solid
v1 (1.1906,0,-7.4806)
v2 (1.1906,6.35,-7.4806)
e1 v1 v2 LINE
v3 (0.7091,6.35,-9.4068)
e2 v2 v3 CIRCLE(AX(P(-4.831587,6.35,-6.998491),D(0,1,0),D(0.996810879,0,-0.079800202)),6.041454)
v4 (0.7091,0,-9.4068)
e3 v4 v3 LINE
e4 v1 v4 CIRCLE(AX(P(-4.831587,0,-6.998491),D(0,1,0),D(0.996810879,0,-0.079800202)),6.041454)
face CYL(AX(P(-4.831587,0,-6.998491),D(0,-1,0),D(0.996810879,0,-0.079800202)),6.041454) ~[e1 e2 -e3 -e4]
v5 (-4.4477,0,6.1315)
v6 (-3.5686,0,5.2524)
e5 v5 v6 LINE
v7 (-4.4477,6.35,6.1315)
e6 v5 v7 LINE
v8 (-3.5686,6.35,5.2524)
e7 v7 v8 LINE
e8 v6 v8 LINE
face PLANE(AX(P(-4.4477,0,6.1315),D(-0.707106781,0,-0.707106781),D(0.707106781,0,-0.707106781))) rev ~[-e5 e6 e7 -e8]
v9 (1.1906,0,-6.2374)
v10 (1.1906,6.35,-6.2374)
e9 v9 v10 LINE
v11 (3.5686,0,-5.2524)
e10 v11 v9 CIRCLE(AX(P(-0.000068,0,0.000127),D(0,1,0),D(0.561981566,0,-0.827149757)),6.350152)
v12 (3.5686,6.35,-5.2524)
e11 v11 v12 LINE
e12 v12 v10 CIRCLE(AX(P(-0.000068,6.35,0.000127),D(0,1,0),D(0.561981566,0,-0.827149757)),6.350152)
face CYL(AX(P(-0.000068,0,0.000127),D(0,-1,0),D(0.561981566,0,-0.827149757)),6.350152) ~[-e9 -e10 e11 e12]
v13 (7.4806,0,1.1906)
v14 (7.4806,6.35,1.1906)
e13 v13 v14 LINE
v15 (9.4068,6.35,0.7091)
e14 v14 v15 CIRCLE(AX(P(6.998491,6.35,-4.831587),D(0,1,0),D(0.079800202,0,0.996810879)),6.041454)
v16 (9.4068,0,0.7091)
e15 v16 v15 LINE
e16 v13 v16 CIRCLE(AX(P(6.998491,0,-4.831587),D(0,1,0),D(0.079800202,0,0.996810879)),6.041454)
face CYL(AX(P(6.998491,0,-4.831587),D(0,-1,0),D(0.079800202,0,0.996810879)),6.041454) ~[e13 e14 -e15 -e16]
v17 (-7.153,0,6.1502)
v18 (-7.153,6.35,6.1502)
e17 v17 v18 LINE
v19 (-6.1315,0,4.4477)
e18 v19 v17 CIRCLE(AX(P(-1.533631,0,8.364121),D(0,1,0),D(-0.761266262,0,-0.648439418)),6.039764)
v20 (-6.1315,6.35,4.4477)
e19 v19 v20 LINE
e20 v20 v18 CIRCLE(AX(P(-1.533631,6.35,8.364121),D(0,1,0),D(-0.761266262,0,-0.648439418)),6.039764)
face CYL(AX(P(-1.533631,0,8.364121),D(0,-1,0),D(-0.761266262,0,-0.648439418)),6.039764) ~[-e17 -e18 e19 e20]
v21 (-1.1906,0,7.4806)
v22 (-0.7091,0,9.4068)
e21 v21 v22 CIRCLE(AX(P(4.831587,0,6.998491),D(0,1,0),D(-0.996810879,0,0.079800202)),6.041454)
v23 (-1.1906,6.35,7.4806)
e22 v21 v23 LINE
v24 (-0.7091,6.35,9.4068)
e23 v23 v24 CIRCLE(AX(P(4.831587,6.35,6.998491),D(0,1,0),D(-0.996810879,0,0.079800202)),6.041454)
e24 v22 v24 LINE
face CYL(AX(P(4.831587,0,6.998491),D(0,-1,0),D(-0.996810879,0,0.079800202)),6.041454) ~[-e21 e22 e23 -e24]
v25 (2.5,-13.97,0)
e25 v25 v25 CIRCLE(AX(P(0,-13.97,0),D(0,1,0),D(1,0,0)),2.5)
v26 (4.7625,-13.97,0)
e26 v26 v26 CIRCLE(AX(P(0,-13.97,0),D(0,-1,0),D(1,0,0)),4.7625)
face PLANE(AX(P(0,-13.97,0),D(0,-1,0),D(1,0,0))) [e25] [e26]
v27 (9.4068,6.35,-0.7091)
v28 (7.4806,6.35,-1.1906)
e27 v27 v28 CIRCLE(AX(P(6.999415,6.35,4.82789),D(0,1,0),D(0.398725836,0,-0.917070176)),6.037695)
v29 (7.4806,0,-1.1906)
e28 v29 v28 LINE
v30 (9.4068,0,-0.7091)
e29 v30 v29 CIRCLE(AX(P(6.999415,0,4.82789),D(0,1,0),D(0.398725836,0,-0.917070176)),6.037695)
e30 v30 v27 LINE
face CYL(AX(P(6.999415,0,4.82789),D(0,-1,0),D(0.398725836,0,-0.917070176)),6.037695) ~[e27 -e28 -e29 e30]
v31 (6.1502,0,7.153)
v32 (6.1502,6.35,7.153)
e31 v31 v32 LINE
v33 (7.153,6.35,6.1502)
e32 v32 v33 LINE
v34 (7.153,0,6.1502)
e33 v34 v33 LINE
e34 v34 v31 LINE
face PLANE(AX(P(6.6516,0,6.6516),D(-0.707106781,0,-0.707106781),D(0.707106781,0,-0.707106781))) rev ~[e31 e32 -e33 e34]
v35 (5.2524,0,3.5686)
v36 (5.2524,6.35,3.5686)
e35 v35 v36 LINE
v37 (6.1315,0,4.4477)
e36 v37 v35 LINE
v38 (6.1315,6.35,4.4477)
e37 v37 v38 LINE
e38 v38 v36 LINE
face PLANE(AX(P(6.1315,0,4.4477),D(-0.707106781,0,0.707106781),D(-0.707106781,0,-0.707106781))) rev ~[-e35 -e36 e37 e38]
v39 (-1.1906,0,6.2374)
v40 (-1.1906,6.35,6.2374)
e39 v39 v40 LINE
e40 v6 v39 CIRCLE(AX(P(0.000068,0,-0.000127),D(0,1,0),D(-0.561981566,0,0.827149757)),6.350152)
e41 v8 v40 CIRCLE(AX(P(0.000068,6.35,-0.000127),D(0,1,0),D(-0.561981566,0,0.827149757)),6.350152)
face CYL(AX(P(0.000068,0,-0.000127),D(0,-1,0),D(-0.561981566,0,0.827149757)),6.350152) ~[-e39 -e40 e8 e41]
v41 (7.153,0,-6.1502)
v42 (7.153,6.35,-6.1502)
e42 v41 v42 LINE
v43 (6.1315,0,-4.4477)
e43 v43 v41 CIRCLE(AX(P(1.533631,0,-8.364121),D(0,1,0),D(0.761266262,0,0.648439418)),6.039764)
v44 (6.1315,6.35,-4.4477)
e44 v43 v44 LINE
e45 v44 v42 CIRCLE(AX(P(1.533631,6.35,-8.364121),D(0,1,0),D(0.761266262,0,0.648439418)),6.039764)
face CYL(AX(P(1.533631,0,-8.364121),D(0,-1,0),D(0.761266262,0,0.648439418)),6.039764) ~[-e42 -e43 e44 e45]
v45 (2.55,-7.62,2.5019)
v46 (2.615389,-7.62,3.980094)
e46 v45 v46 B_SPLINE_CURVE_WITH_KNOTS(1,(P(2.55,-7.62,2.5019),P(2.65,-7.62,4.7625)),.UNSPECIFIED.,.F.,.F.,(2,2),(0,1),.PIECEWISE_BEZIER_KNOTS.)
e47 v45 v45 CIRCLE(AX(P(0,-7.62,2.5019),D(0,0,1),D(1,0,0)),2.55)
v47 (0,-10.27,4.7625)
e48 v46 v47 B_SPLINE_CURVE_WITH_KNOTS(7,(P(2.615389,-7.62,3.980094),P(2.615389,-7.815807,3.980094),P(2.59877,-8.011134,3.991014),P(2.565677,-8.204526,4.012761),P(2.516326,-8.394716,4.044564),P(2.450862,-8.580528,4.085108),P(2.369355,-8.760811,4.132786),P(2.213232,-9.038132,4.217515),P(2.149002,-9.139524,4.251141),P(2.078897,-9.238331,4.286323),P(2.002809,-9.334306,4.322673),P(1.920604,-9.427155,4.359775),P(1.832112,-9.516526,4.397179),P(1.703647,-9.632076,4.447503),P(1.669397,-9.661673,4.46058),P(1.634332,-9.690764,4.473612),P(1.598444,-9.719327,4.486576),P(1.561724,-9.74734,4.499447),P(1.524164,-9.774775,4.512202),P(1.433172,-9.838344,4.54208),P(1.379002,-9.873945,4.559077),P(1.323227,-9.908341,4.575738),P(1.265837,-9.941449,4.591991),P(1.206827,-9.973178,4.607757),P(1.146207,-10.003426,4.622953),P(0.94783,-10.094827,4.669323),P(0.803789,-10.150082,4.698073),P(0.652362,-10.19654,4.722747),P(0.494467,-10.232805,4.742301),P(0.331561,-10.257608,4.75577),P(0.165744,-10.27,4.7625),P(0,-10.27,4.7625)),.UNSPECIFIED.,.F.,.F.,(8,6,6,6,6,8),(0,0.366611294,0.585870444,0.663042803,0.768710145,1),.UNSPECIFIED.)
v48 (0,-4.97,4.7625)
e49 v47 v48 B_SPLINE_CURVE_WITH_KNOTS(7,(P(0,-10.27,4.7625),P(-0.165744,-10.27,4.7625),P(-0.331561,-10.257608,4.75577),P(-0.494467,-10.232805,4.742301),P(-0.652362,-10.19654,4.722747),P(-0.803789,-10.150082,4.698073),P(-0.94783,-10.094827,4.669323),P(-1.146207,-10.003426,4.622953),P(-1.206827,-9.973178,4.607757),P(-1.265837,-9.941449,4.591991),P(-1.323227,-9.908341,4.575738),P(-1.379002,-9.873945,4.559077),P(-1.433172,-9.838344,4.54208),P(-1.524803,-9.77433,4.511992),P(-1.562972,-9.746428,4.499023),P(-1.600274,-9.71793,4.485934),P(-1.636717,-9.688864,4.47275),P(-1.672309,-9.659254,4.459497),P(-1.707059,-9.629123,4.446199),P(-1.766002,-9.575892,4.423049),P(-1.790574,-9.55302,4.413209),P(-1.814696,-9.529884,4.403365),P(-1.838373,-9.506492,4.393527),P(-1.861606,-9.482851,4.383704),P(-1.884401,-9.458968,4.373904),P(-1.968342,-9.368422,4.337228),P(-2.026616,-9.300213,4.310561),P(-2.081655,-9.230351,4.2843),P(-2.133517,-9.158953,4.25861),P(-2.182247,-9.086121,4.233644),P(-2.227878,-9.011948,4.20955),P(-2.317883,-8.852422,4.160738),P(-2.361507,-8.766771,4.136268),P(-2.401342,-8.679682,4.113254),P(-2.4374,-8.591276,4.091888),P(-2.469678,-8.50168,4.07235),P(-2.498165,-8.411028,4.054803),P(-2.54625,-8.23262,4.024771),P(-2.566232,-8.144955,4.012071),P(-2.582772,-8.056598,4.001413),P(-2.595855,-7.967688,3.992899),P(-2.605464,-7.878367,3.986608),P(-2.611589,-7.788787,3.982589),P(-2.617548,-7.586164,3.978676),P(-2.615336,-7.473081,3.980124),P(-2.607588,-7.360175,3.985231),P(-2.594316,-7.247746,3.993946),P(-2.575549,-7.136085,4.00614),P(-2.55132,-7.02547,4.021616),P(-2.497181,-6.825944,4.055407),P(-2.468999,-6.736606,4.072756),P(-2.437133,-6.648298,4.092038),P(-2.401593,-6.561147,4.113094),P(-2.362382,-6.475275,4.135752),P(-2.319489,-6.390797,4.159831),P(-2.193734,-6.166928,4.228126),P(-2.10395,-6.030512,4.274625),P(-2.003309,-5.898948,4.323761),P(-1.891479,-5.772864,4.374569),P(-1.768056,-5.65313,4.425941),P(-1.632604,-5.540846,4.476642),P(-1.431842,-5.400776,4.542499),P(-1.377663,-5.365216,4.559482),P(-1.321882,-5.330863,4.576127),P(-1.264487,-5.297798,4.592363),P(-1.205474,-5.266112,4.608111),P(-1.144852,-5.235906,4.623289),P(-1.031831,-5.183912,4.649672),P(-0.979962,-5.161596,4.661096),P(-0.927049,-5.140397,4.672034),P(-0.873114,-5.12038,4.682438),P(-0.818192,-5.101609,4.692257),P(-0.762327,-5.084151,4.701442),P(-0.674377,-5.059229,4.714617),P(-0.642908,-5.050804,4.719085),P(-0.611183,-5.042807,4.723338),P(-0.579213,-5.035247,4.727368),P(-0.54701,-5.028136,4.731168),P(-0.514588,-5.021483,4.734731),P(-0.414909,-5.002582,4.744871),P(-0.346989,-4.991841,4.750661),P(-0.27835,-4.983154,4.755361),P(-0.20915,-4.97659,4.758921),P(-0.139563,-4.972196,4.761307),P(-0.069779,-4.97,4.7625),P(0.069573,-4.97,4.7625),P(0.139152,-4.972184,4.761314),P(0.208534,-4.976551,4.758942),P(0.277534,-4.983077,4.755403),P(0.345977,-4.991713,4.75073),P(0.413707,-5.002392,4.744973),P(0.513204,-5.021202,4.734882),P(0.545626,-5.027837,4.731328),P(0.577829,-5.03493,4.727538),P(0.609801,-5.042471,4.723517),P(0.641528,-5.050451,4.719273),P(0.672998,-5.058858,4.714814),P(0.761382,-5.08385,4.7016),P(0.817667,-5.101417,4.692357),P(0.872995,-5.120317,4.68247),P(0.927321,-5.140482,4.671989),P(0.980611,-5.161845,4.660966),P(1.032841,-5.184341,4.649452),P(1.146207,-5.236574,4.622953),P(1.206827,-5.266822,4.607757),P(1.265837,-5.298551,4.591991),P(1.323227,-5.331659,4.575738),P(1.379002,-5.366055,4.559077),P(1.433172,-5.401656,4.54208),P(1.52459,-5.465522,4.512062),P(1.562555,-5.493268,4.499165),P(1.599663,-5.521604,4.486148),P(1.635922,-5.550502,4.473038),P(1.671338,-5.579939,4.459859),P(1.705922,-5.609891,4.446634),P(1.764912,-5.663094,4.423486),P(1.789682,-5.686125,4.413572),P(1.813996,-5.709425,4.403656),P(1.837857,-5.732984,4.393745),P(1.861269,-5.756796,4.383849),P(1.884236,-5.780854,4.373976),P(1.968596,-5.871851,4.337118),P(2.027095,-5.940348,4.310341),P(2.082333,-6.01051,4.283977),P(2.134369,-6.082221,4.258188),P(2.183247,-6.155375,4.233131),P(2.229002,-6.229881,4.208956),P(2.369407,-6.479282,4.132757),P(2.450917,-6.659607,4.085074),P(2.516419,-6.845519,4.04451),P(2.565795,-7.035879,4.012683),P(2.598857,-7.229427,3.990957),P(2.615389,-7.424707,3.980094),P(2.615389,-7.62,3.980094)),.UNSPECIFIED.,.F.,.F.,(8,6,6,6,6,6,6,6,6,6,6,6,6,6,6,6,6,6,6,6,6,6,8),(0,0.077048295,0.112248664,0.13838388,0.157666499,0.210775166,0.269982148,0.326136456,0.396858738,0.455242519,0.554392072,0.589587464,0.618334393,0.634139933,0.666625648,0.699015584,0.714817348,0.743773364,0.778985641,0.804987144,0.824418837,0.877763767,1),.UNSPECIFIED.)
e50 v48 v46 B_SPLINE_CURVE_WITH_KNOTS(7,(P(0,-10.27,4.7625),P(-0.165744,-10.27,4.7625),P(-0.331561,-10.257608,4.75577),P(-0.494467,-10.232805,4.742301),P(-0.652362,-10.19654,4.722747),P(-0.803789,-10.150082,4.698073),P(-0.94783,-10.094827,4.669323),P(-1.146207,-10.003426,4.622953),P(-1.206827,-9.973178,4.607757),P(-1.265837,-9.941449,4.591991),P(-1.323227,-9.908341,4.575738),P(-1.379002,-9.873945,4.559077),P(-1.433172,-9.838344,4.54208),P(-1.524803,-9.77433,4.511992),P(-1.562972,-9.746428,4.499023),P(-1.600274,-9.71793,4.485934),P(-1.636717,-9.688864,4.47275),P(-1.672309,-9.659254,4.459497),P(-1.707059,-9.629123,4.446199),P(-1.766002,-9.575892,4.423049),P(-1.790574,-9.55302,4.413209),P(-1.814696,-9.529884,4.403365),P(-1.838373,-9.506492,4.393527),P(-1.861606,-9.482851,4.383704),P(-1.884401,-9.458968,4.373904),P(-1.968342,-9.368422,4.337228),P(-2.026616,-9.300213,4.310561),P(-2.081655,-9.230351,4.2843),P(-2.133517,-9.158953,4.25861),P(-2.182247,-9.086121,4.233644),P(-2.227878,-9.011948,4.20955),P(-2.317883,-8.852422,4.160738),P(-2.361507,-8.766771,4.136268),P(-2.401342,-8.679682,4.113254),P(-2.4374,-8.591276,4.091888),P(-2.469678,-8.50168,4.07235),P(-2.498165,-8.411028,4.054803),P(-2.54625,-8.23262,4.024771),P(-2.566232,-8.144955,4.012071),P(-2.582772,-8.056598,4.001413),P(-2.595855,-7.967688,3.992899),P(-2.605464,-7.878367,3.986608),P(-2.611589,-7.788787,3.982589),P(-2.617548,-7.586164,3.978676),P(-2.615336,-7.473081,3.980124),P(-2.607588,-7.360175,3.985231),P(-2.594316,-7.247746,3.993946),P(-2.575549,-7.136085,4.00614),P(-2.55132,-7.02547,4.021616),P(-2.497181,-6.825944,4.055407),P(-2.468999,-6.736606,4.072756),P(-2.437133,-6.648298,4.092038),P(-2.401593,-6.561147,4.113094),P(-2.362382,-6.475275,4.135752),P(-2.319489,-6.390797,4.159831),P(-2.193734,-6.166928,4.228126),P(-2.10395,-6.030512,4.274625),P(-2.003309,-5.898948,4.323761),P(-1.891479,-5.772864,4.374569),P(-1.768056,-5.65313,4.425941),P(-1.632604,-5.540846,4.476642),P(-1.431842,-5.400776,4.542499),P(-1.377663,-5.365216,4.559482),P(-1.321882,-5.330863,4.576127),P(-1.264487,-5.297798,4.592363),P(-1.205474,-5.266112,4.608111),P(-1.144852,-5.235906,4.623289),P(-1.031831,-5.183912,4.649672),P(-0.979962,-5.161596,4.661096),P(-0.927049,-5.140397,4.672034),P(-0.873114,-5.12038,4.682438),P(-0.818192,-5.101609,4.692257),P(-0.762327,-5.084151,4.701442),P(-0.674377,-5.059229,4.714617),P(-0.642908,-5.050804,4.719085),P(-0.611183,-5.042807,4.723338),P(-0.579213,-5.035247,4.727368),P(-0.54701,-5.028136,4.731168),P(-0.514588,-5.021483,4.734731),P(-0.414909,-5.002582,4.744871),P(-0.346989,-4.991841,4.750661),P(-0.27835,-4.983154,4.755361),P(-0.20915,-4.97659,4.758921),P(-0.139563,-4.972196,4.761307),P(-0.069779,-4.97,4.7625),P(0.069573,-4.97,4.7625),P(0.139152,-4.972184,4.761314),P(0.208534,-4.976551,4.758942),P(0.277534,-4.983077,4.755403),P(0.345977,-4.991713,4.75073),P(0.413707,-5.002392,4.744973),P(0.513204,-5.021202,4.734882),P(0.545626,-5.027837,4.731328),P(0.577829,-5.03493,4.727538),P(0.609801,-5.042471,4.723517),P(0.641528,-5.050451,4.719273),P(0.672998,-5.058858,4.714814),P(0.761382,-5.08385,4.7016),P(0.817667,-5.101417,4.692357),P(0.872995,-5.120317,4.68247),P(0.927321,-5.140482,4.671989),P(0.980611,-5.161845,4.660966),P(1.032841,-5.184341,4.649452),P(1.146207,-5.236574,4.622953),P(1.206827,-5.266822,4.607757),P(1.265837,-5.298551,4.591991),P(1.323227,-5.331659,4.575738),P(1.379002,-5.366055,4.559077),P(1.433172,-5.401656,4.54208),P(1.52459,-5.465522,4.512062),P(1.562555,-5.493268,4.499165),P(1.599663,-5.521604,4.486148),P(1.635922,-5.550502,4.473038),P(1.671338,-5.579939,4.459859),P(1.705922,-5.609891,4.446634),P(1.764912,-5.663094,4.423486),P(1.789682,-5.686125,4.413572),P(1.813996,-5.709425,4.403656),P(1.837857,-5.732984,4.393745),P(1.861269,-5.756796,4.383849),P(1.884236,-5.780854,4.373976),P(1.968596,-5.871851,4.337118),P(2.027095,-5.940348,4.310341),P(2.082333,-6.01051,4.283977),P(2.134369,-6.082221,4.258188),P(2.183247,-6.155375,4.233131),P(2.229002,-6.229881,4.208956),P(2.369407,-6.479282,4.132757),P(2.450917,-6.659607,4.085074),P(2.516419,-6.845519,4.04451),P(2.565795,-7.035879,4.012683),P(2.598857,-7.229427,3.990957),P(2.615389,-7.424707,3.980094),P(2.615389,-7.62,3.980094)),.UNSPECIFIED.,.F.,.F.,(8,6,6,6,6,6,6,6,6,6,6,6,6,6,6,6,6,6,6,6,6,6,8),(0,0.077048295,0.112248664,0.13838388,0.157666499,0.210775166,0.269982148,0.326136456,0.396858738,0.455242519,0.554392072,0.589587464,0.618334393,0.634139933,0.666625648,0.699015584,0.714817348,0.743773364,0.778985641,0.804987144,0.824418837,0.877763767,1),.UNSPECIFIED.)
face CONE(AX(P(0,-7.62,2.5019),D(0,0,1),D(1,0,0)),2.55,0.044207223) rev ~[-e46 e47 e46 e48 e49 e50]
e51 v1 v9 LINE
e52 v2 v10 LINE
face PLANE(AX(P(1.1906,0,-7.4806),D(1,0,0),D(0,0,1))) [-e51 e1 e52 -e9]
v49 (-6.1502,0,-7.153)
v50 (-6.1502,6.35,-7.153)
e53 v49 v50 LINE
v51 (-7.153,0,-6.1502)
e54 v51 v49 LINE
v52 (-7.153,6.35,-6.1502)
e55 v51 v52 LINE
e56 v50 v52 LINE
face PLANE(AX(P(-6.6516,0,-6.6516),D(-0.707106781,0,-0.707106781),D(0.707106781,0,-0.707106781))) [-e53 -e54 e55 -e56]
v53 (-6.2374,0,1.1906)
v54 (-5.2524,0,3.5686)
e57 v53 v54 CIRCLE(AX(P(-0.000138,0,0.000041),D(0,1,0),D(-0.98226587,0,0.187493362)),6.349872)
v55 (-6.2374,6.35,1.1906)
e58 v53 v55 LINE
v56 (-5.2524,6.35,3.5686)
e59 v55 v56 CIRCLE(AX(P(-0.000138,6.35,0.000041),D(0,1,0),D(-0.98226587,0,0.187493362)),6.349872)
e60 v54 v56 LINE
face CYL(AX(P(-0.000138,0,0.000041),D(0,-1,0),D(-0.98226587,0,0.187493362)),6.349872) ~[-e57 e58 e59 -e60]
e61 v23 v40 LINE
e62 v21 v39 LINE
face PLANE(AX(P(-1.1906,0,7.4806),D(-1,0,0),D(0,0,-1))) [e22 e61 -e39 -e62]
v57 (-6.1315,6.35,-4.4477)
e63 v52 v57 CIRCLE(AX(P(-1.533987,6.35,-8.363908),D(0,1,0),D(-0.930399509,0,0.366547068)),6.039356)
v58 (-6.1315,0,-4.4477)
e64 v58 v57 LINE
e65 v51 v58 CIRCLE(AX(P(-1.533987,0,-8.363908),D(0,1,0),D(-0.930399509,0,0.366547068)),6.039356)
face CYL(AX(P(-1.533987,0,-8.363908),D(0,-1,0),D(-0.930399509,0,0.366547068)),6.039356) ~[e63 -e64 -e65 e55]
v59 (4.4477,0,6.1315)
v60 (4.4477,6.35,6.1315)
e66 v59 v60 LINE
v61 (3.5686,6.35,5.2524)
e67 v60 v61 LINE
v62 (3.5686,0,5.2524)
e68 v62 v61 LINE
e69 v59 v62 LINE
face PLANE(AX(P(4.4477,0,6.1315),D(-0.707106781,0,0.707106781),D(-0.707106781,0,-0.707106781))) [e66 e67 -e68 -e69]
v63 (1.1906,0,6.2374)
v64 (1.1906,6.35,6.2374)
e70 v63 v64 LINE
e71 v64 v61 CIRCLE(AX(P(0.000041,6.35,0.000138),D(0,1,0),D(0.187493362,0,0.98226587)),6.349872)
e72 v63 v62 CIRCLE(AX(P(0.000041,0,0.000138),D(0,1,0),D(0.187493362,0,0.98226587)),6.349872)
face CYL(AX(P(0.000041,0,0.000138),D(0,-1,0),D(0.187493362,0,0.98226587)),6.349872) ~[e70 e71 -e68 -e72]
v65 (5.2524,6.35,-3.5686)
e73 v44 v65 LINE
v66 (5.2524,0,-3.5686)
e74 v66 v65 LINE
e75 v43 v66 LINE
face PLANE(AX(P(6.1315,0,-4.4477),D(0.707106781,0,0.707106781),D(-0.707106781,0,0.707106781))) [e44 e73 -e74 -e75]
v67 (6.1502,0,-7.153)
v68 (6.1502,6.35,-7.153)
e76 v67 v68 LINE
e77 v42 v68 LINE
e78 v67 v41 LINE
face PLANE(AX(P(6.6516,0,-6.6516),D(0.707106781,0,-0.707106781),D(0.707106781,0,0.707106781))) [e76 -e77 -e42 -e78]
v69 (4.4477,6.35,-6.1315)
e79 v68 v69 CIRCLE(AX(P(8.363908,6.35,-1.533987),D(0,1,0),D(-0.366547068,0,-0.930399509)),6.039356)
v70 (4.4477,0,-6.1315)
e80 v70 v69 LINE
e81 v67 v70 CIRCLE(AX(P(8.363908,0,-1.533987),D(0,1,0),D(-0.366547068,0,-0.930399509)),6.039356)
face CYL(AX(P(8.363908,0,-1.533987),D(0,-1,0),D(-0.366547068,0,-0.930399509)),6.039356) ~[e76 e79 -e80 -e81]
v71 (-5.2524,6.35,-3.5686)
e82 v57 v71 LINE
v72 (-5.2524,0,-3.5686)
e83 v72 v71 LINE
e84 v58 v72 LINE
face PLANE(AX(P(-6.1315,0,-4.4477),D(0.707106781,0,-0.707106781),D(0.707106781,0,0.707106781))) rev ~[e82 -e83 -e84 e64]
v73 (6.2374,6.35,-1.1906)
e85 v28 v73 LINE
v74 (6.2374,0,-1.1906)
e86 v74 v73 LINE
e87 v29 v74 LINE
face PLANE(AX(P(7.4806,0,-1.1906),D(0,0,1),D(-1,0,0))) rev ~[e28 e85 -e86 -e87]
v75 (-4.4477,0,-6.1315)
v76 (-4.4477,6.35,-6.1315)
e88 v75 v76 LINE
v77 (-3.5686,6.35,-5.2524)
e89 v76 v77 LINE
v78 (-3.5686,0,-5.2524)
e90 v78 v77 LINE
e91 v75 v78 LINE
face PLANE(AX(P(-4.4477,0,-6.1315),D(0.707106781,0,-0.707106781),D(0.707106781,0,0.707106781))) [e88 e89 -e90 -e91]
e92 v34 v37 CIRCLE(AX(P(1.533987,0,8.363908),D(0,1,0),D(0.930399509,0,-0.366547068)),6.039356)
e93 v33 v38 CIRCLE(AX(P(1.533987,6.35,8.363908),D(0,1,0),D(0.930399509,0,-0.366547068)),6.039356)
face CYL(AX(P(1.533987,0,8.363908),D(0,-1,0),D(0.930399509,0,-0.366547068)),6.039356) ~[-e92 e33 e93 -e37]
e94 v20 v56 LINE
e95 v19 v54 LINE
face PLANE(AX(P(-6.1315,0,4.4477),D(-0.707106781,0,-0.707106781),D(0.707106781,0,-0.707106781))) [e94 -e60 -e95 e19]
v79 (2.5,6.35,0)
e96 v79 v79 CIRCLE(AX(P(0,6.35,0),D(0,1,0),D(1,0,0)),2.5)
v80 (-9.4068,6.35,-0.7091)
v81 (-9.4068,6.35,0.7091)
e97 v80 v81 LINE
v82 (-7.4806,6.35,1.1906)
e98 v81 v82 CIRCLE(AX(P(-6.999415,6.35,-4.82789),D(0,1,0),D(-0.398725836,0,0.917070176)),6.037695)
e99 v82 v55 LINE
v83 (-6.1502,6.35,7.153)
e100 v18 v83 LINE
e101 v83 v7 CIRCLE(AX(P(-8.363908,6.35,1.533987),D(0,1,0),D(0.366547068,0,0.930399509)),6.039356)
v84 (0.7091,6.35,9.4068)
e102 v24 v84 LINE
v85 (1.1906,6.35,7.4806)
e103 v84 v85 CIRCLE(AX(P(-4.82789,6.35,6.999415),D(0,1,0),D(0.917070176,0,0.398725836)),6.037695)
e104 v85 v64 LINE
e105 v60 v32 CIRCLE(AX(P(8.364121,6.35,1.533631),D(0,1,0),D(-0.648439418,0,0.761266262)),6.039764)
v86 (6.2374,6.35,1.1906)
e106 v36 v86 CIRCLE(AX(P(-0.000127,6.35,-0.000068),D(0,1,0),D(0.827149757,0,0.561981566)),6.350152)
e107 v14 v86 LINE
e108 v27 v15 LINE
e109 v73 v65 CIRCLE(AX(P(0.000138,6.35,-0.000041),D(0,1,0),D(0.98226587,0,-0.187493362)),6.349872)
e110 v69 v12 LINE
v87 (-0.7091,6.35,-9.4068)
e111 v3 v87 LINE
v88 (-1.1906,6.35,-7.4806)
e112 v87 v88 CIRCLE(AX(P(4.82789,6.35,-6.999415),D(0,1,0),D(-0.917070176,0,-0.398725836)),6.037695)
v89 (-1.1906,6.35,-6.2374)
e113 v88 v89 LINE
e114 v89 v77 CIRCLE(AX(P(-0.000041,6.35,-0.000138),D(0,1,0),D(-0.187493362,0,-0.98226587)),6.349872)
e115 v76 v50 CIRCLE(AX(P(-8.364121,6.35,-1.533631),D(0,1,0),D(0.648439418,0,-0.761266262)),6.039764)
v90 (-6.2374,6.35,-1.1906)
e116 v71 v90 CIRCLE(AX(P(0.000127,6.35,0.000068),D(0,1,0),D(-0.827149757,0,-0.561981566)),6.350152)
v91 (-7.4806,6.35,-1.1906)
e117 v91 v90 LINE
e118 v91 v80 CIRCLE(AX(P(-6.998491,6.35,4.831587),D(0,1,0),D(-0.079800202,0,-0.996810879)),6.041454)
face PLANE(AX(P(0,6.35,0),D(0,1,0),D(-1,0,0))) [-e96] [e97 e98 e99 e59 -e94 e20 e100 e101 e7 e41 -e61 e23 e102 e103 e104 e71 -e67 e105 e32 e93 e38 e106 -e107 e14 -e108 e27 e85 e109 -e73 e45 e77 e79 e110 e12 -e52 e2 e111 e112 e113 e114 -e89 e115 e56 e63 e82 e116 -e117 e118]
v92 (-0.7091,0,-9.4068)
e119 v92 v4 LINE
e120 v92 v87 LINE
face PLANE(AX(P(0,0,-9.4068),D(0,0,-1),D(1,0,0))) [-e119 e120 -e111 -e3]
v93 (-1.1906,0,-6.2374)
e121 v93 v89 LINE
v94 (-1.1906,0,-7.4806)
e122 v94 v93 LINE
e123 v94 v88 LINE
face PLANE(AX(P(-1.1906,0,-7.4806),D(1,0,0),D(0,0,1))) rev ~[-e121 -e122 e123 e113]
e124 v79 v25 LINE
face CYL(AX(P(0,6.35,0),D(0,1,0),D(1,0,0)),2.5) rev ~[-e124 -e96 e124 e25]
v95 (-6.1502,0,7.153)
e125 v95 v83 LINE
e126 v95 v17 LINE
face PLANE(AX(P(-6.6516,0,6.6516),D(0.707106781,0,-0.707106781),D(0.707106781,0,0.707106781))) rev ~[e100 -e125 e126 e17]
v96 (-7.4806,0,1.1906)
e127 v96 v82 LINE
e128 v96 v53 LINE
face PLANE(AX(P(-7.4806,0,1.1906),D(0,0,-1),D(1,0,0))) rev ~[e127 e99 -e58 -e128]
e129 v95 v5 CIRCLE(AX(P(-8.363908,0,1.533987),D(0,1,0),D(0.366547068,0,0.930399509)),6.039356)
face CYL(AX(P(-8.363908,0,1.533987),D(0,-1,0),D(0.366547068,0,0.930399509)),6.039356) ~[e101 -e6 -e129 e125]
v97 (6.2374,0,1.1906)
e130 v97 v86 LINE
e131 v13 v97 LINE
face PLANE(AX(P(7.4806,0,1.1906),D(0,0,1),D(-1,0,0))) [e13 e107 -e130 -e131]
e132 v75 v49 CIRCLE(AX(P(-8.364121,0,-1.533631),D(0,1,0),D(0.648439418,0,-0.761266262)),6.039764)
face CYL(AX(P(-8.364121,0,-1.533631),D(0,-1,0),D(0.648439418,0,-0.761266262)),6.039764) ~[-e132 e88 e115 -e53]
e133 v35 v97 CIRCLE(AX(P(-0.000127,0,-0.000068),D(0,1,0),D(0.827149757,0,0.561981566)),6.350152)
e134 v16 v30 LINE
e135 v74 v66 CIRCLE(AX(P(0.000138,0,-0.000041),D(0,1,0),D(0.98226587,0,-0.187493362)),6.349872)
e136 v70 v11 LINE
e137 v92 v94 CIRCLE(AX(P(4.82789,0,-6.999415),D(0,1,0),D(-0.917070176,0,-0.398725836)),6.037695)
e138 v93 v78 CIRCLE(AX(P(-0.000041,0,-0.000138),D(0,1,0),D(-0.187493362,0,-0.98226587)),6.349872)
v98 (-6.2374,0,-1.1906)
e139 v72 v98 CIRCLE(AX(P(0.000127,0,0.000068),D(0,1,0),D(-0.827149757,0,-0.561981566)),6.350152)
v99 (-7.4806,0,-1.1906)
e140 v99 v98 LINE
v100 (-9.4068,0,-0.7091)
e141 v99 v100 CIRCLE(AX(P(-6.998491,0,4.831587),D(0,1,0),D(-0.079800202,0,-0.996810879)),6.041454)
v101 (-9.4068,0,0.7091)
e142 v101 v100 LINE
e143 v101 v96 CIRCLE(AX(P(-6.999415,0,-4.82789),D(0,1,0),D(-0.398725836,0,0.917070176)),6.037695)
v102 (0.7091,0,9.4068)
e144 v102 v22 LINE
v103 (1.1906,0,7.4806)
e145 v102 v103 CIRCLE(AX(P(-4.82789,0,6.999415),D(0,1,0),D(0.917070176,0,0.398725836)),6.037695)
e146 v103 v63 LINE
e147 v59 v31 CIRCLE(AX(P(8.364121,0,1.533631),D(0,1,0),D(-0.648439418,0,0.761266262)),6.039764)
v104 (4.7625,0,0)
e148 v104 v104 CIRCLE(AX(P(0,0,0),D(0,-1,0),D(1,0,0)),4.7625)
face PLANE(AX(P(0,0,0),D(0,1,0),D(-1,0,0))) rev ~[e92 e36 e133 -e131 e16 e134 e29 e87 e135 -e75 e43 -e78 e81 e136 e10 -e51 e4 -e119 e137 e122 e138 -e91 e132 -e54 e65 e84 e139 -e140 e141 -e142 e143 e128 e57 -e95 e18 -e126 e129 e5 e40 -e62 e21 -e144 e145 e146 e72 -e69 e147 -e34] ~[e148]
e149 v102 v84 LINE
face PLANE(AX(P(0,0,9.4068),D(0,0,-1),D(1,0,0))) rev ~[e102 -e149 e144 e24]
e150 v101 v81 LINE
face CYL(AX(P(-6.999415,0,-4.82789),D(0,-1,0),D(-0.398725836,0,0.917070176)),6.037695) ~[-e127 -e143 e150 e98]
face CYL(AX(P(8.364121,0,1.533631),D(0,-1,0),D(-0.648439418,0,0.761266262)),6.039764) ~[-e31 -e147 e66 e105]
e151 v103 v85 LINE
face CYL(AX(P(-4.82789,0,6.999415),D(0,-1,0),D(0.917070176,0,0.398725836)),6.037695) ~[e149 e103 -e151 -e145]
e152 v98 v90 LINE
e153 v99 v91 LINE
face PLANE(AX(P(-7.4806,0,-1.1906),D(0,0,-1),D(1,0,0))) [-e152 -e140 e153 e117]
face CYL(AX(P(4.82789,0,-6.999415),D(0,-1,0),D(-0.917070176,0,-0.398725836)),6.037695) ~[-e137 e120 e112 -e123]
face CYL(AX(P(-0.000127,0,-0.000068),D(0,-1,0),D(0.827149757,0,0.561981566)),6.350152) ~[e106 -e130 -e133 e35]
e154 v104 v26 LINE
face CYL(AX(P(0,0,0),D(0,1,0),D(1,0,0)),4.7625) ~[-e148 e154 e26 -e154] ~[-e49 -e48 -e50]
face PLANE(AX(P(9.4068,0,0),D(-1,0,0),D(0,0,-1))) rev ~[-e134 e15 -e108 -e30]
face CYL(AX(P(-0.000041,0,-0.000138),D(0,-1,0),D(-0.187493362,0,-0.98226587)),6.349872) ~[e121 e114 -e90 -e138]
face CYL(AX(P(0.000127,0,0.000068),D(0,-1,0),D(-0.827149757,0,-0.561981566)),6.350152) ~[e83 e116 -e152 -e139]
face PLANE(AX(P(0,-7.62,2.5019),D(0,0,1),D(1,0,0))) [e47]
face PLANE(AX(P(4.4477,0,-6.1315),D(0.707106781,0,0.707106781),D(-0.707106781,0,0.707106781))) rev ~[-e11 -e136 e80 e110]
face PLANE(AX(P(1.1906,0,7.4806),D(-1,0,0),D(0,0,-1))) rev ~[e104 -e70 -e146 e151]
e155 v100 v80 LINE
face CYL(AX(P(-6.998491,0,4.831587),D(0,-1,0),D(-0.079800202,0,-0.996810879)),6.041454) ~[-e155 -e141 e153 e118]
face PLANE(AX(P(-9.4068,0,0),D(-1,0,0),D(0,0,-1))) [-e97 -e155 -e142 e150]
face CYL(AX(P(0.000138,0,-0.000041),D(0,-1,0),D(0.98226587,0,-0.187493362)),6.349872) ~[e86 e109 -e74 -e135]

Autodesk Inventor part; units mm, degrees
ref_plane "YZ Plane" through (0, 0, 0) normal (1, 0, 0) x (0, 1, 0)
sketch "Sketch1" plane through (0, 0, 0) normal (0, 1, 0) x (-1, 0, 0)
  line L0 (-7.4806, -1.1906) -> (-6.2374, -1.1906)
  arc A0 (-9.4068, -0.7091) -> (-7.4806, -1.1906) centre (-6.9988, 4.8297) ccw
  line L1 (-9.4068, 0) -> (-9.4068, -0.7091)
  line L2 (-9.4068, 0) -> (-9.4068, 0.7091)
  line L3 (-7.4806, 1.1906) -> (-6.2374, 1.1906)
  arc A1 (-7.4806, 1.1906) -> (-9.4068, 0.7091) centre (-6.9988, -4.8297) ccw
  line L4 (-7.4806, -1.1906) -> (-6.2374, -1.1906)
  arc A2 (-9.4068, -0.7091) -> (-7.4806, -1.1906) centre (-6.9988, 4.8297) ccw
  line L5 (-9.4068, 0) -> (-9.4068, -0.7091)
  line L6 (-9.4068, 0) -> (-9.4068, 0.7091)
  line L7 (-7.4806, 1.1906) -> (-6.2374, 1.1906)
  arc A3 (-7.4806, 1.1906) -> (-9.4068, 0.7091) centre (-6.9988, -4.8297) ccw
  line L8 (-4.4477, -6.1315) -> (-3.5686, -5.2524)
  line L9 (-4.4477, -6.1315) -> (-3.5686, -5.2524)
  line L10 (-6.6516, -6.6516) -> (-6.1502, -7.153)
  line L11 (-6.6516, -6.6516) -> (-6.1502, -7.153)
  line L12 (-6.6516, -6.6516) -> (-7.153, -6.1502)
  line L13 (-6.6516, -6.6516) -> (-7.153, -6.1502)
  line L14 (-6.1315, -4.4477) -> (-5.2524, -3.5686)
  line L15 (-6.1315, -4.4477) -> (-5.2524, -3.5686)
  arc A4 (-6.1315, -4.4477) -> (-7.153, -6.1502) centre (-1.5338, -8.364) ccw
  arc A5 (-6.1315, -4.4477) -> (-7.153, -6.1502) centre (-1.5338, -8.364) ccw
  arc A6 (-6.1502, -7.153) -> (-4.4477, -6.1315) centre (-8.364, -1.5338) ccw
  arc A7 (-6.1502, -7.153) -> (-4.4477, -6.1315) centre (-8.364, -1.5338) ccw
  line L16 (1.1906, -7.4806) -> (1.1906, -6.2374)
  line L17 (1.1906, -7.4806) -> (1.1906, -6.2374)
  line L18 (0, -9.4068) -> (0.7091, -9.4068)
  line L19 (0, -9.4068) -> (0.7091, -9.4068)
  line L20 (0, -9.4068) -> (-0.7091, -9.4068)
  line L21 (0, -9.4068) -> (-0.7091, -9.4068)
  line L22 (-1.1906, -7.4806) -> (-1.1906, -6.2374)
  line L23 (-1.1906, -7.4806) -> (-1.1906, -6.2374)
  arc A8 (-1.1906, -7.4806) -> (-0.7091, -9.4068) centre (4.8297, -6.9988) ccw
  arc A9 (-1.1906, -7.4806) -> (-0.7091, -9.4068) centre (4.8297, -6.9988) ccw
  arc A10 (0.7091, -9.4068) -> (1.1906, -7.4806) centre (-4.8297, -6.9988) ccw
  arc A11 (0.7091, -9.4068) -> (1.1906, -7.4806) centre (-4.8297, -6.9988) ccw
  line L24 (6.1315, -4.4477) -> (5.2524, -3.5686)
  line L25 (6.1315, -4.4477) -> (5.2524, -3.5686)
  line L26 (6.6516, -6.6516) -> (7.153, -6.1502)
  line L27 (6.6516, -6.6516) -> (7.153, -6.1502)
  line L28 (6.6516, -6.6516) -> (6.1502, -7.153)
  line L29 (6.6516, -6.6516) -> (6.1502, -7.153)
  line L30 (4.4477, -6.1315) -> (3.5686, -5.2524)
  line L31 (4.4477, -6.1315) -> (3.5686, -5.2524)
  arc A12 (4.4477, -6.1315) -> (6.1502, -7.153) centre (8.364, -1.5338) ccw
  arc A13 (4.4477, -6.1315) -> (6.1502, -7.153) centre (8.364, -1.5338) ccw
  arc A14 (7.153, -6.1502) -> (6.1315, -4.4477) centre (1.5338, -8.364) ccw
  arc A15 (7.153, -6.1502) -> (6.1315, -4.4477) centre (1.5338, -8.364) ccw
  line L32 (7.4806, 1.1906) -> (6.2374, 1.1906)
  line L33 (7.4806, 1.1906) -> (6.2374, 1.1906)
  line L34 (9.4068, 0) -> (9.4068, 0.7091)
  line L35 (9.4068, 0) -> (9.4068, 0.7091)
  line L36 (9.4068, 0) -> (9.4068, -0.7091)
  line L37 (9.4068, 0) -> (9.4068, -0.7091)
  line L38 (7.4806, -1.1906) -> (6.2374, -1.1906)
  line L39 (7.4806, -1.1906) -> (6.2374, -1.1906)
  arc A16 (7.4806, -1.1906) -> (9.4068, -0.7091) centre (6.9988, 4.8297) ccw
  arc A17 (7.4806, -1.1906) -> (9.4068, -0.7091) centre (6.9988, 4.8297) ccw
  arc A18 (9.4068, 0.7091) -> (7.4806, 1.1906) centre (6.9988, -4.8297) ccw
  arc A19 (9.4068, 0.7091) -> (7.4806, 1.1906) centre (6.9988, -4.8297) ccw
  line L40 (4.4477, 6.1315) -> (3.5686, 5.2524)
  line L41 (4.4477, 6.1315) -> (3.5686, 5.2524)
  line L42 (6.6516, 6.6516) -> (6.1502, 7.153)
  line L43 (6.6516, 6.6516) -> (6.1502, 7.153)
  line L44 (6.6516, 6.6516) -> (7.153, 6.1502)
  line L45 (6.6516, 6.6516) -> (7.153, 6.1502)
  line L46 (6.1315, 4.4477) -> (5.2524, 3.5686)
  line L47 (6.1315, 4.4477) -> (5.2524, 3.5686)
  arc A20 (6.1315, 4.4477) -> (7.153, 6.1502) centre (1.5338, 8.364) ccw
  arc A21 (6.1315, 4.4477) -> (7.153, 6.1502) centre (1.5338, 8.364) ccw
  arc A22 (6.1502, 7.153) -> (4.4477, 6.1315) centre (8.364, 1.5338) ccw
  arc A23 (6.1502, 7.153) -> (4.4477, 6.1315) centre (8.364, 1.5338) ccw
  line L48 (-1.1906, 7.4806) -> (-1.1906, 6.2374)
  line L49 (-1.1906, 7.4806) -> (-1.1906, 6.2374)
  line L50 (0, 9.4068) -> (-0.7091, 9.4068)
  line L51 (0, 9.4068) -> (-0.7091, 9.4068)
  line L52 (0, 9.4068) -> (0.7091, 9.4068)
  line L53 (0, 9.4068) -> (0.7091, 9.4068)
  line L54 (1.1906, 7.4806) -> (1.1906, 6.2374)
  line L55 (1.1906, 7.4806) -> (1.1906, 6.2374)
  arc A24 (1.1906, 7.4806) -> (0.7091, 9.4068) centre (-4.8297, 6.9988) ccw
  arc A25 (1.1906, 7.4806) -> (0.7091, 9.4068) centre (-4.8297, 6.9988) ccw
  arc A26 (-0.7091, 9.4068) -> (-1.1906, 7.4806) centre (4.8297, 6.9988) ccw
  arc A27 (-0.7091, 9.4068) -> (-1.1906, 7.4806) centre (4.8297, 6.9988) ccw
  line L56 (-6.1315, 4.4477) -> (-5.2524, 3.5686)
  line L57 (-6.1315, 4.4477) -> (-5.2524, 3.5686)
  line L58 (-6.6516, 6.6516) -> (-7.153, 6.1502)
  line L59 (-6.6516, 6.6516) -> (-7.153, 6.1502)
  line L60 (-6.6516, 6.6516) -> (-6.1502, 7.153)
  line L61 (-6.6516, 6.6516) -> (-6.1502, 7.153)
  line L62 (-4.4477, 6.1315) -> (-3.5686, 5.2524)
  line L63 (-4.4477, 6.1315) -> (-3.5686, 5.2524)
  arc A28 (-4.4477, 6.1315) -> (-6.1502, 7.153) centre (-8.364, 1.5338) ccw
  arc A29 (-4.4477, 6.1315) -> (-6.1502, 7.153) centre (-8.364, 1.5338) ccw
  arc A30 (-7.153, 6.1502) -> (-6.1315, 4.4477) centre (-1.5338, 8.364) ccw
  arc A31 (-7.153, 6.1502) -> (-6.1315, 4.4477) centre (-1.5338, 8.364) ccw
  arc A32 (1.1906, -6.2374) -> (3.5686, -5.2524) centre (0, 0) ccw
  arc A33 (-3.5686, -5.2524) -> (-1.1906, -6.2374) centre (0, 0) ccw
  arc A34 (-6.2374, -1.1906) -> (-5.2524, -3.5686) centre (0, 0) ccw
  arc A35 (-5.2524, 3.5686) -> (-6.2374, 1.1906) centre (0, 0) ccw
  arc A36 (-1.1906, 6.2374) -> (-3.5686, 5.2524) centre (0, 0) ccw
  arc A37 (3.5686, 5.2524) -> (1.1906, 6.2374) centre (0, 0) ccw
  arc A38 (5.2524, -3.5686) -> (6.2374, -1.1906) centre (0, 0) ccw
  arc A39 (6.2374, 1.1906) -> (5.2524, 3.5686) centre (0, 0) ccw
  point P0 (-6.907, -0.3718)
  point P1 (-6.907, 0.3718)
  point P2 (-6.907, -0.3718)
  point P3 (-6.907, 0.3718)
  point P4 (-4.6211, -5.1469)
  point P5 (-4.6211, -5.1469)
  point P6 (-5.1469, -4.6211)
  point P7 (-5.1469, -4.6211)
  point P8 (0.3718, -6.907)
  point P9 (0.3718, -6.907)
  point P10 (-0.3718, -6.907)
  point P11 (-0.3718, -6.907)
  point P12 (5.1469, -4.6211)
  point P13 (5.1469, -4.6211)
  point P14 (4.6211, -5.1469)
  point P15 (4.6211, -5.1469)
  point P16 (6.907, 0.3718)
  point P17 (6.907, 0.3718)
  point P18 (6.907, -0.3718)
  point P19 (6.907, -0.3718)
  point P20 (4.6211, 5.1469)
  point P21 (4.6211, 5.1469)
  point P22 (5.1469, 4.6211)
  point P23 (5.1469, 4.6211)
  point P24 (-0.3718, 6.907)
  point P25 (-0.3718, 6.907)
  point P26 (0.3718, 6.907)
  point P27 (0.3718, 6.907)
  point P28 (-5.1469, 4.6211)
  point P29 (-5.1469, 4.6211)
  point P30 (-4.6211, 5.1469)
  point P31 (-4.6211, 5.1469)
  dimension "d5" = 360
extrude "Extrusion1" add sketch "Sketch1" along normal blind 6.35
sketch "Sketch2" plane through (0, 0, 0) normal (0, -1, 0) x (1, 0, 0)
  circle A0 centre (0, 0) radius 4.7625
  dimension "d9" = 9.525
extrude "Extrusion2" add sketch "Sketch2" along normal blind 13.97
sketch "Sketch3" plane through (0, 6.35, 0) normal (0, 1, 0) x (1, 0, 0)
  circle A0 centre (0, 0) radius 2.5
  dimension "d12" = 5
extrude "Extrusion3" cut sketch "Sketch3" along normal through all both and the other way through all
ref_plane "Work Plane1" through (0, 0, 2.5019) normal (0, 0, 1) x (1, 0, 0)
ref_plane "Work Plane2" through (0, 0, 4.7625) normal (0, 0, 1) x (1, 0, 0)
sketch "Sketch5" plane through (0, 0, 2.5019) normal (0, 0, 1) x (1, 0, 0)
  line L0 (2.5, -13.97) -> (-2.5, -13.97) construction
  line L1 (0.7091, 6.35) -> (-0.7091, 6.35) construction
  line L2 (0, -13.97) -> (0, -7.62) construction
  circle A0 centre (0, -7.62) radius 2.55
  point P0 (0, 0)
  dimension "d17" = 6.35
  dimension "d18" = 5.1
sketch "Sketch6" plane through (0, 0, 4.7625) normal (0, 0, 1) x (1, 0, 0)
  line L0 (2.5, -13.97) -> (-2.5, -13.97) construction
  line L1 (0, -13.97) -> (0, -7.62) construction
  circle A0 centre (0, -7.62) radius 2.65
  point P0 (0, 0)
  dimension "d19" = 6.35
  dimension "d20" = 5.3
loft "Loft1" cut profiles "Sketch5", "Sketch6"
properties part number "Small Gear"
